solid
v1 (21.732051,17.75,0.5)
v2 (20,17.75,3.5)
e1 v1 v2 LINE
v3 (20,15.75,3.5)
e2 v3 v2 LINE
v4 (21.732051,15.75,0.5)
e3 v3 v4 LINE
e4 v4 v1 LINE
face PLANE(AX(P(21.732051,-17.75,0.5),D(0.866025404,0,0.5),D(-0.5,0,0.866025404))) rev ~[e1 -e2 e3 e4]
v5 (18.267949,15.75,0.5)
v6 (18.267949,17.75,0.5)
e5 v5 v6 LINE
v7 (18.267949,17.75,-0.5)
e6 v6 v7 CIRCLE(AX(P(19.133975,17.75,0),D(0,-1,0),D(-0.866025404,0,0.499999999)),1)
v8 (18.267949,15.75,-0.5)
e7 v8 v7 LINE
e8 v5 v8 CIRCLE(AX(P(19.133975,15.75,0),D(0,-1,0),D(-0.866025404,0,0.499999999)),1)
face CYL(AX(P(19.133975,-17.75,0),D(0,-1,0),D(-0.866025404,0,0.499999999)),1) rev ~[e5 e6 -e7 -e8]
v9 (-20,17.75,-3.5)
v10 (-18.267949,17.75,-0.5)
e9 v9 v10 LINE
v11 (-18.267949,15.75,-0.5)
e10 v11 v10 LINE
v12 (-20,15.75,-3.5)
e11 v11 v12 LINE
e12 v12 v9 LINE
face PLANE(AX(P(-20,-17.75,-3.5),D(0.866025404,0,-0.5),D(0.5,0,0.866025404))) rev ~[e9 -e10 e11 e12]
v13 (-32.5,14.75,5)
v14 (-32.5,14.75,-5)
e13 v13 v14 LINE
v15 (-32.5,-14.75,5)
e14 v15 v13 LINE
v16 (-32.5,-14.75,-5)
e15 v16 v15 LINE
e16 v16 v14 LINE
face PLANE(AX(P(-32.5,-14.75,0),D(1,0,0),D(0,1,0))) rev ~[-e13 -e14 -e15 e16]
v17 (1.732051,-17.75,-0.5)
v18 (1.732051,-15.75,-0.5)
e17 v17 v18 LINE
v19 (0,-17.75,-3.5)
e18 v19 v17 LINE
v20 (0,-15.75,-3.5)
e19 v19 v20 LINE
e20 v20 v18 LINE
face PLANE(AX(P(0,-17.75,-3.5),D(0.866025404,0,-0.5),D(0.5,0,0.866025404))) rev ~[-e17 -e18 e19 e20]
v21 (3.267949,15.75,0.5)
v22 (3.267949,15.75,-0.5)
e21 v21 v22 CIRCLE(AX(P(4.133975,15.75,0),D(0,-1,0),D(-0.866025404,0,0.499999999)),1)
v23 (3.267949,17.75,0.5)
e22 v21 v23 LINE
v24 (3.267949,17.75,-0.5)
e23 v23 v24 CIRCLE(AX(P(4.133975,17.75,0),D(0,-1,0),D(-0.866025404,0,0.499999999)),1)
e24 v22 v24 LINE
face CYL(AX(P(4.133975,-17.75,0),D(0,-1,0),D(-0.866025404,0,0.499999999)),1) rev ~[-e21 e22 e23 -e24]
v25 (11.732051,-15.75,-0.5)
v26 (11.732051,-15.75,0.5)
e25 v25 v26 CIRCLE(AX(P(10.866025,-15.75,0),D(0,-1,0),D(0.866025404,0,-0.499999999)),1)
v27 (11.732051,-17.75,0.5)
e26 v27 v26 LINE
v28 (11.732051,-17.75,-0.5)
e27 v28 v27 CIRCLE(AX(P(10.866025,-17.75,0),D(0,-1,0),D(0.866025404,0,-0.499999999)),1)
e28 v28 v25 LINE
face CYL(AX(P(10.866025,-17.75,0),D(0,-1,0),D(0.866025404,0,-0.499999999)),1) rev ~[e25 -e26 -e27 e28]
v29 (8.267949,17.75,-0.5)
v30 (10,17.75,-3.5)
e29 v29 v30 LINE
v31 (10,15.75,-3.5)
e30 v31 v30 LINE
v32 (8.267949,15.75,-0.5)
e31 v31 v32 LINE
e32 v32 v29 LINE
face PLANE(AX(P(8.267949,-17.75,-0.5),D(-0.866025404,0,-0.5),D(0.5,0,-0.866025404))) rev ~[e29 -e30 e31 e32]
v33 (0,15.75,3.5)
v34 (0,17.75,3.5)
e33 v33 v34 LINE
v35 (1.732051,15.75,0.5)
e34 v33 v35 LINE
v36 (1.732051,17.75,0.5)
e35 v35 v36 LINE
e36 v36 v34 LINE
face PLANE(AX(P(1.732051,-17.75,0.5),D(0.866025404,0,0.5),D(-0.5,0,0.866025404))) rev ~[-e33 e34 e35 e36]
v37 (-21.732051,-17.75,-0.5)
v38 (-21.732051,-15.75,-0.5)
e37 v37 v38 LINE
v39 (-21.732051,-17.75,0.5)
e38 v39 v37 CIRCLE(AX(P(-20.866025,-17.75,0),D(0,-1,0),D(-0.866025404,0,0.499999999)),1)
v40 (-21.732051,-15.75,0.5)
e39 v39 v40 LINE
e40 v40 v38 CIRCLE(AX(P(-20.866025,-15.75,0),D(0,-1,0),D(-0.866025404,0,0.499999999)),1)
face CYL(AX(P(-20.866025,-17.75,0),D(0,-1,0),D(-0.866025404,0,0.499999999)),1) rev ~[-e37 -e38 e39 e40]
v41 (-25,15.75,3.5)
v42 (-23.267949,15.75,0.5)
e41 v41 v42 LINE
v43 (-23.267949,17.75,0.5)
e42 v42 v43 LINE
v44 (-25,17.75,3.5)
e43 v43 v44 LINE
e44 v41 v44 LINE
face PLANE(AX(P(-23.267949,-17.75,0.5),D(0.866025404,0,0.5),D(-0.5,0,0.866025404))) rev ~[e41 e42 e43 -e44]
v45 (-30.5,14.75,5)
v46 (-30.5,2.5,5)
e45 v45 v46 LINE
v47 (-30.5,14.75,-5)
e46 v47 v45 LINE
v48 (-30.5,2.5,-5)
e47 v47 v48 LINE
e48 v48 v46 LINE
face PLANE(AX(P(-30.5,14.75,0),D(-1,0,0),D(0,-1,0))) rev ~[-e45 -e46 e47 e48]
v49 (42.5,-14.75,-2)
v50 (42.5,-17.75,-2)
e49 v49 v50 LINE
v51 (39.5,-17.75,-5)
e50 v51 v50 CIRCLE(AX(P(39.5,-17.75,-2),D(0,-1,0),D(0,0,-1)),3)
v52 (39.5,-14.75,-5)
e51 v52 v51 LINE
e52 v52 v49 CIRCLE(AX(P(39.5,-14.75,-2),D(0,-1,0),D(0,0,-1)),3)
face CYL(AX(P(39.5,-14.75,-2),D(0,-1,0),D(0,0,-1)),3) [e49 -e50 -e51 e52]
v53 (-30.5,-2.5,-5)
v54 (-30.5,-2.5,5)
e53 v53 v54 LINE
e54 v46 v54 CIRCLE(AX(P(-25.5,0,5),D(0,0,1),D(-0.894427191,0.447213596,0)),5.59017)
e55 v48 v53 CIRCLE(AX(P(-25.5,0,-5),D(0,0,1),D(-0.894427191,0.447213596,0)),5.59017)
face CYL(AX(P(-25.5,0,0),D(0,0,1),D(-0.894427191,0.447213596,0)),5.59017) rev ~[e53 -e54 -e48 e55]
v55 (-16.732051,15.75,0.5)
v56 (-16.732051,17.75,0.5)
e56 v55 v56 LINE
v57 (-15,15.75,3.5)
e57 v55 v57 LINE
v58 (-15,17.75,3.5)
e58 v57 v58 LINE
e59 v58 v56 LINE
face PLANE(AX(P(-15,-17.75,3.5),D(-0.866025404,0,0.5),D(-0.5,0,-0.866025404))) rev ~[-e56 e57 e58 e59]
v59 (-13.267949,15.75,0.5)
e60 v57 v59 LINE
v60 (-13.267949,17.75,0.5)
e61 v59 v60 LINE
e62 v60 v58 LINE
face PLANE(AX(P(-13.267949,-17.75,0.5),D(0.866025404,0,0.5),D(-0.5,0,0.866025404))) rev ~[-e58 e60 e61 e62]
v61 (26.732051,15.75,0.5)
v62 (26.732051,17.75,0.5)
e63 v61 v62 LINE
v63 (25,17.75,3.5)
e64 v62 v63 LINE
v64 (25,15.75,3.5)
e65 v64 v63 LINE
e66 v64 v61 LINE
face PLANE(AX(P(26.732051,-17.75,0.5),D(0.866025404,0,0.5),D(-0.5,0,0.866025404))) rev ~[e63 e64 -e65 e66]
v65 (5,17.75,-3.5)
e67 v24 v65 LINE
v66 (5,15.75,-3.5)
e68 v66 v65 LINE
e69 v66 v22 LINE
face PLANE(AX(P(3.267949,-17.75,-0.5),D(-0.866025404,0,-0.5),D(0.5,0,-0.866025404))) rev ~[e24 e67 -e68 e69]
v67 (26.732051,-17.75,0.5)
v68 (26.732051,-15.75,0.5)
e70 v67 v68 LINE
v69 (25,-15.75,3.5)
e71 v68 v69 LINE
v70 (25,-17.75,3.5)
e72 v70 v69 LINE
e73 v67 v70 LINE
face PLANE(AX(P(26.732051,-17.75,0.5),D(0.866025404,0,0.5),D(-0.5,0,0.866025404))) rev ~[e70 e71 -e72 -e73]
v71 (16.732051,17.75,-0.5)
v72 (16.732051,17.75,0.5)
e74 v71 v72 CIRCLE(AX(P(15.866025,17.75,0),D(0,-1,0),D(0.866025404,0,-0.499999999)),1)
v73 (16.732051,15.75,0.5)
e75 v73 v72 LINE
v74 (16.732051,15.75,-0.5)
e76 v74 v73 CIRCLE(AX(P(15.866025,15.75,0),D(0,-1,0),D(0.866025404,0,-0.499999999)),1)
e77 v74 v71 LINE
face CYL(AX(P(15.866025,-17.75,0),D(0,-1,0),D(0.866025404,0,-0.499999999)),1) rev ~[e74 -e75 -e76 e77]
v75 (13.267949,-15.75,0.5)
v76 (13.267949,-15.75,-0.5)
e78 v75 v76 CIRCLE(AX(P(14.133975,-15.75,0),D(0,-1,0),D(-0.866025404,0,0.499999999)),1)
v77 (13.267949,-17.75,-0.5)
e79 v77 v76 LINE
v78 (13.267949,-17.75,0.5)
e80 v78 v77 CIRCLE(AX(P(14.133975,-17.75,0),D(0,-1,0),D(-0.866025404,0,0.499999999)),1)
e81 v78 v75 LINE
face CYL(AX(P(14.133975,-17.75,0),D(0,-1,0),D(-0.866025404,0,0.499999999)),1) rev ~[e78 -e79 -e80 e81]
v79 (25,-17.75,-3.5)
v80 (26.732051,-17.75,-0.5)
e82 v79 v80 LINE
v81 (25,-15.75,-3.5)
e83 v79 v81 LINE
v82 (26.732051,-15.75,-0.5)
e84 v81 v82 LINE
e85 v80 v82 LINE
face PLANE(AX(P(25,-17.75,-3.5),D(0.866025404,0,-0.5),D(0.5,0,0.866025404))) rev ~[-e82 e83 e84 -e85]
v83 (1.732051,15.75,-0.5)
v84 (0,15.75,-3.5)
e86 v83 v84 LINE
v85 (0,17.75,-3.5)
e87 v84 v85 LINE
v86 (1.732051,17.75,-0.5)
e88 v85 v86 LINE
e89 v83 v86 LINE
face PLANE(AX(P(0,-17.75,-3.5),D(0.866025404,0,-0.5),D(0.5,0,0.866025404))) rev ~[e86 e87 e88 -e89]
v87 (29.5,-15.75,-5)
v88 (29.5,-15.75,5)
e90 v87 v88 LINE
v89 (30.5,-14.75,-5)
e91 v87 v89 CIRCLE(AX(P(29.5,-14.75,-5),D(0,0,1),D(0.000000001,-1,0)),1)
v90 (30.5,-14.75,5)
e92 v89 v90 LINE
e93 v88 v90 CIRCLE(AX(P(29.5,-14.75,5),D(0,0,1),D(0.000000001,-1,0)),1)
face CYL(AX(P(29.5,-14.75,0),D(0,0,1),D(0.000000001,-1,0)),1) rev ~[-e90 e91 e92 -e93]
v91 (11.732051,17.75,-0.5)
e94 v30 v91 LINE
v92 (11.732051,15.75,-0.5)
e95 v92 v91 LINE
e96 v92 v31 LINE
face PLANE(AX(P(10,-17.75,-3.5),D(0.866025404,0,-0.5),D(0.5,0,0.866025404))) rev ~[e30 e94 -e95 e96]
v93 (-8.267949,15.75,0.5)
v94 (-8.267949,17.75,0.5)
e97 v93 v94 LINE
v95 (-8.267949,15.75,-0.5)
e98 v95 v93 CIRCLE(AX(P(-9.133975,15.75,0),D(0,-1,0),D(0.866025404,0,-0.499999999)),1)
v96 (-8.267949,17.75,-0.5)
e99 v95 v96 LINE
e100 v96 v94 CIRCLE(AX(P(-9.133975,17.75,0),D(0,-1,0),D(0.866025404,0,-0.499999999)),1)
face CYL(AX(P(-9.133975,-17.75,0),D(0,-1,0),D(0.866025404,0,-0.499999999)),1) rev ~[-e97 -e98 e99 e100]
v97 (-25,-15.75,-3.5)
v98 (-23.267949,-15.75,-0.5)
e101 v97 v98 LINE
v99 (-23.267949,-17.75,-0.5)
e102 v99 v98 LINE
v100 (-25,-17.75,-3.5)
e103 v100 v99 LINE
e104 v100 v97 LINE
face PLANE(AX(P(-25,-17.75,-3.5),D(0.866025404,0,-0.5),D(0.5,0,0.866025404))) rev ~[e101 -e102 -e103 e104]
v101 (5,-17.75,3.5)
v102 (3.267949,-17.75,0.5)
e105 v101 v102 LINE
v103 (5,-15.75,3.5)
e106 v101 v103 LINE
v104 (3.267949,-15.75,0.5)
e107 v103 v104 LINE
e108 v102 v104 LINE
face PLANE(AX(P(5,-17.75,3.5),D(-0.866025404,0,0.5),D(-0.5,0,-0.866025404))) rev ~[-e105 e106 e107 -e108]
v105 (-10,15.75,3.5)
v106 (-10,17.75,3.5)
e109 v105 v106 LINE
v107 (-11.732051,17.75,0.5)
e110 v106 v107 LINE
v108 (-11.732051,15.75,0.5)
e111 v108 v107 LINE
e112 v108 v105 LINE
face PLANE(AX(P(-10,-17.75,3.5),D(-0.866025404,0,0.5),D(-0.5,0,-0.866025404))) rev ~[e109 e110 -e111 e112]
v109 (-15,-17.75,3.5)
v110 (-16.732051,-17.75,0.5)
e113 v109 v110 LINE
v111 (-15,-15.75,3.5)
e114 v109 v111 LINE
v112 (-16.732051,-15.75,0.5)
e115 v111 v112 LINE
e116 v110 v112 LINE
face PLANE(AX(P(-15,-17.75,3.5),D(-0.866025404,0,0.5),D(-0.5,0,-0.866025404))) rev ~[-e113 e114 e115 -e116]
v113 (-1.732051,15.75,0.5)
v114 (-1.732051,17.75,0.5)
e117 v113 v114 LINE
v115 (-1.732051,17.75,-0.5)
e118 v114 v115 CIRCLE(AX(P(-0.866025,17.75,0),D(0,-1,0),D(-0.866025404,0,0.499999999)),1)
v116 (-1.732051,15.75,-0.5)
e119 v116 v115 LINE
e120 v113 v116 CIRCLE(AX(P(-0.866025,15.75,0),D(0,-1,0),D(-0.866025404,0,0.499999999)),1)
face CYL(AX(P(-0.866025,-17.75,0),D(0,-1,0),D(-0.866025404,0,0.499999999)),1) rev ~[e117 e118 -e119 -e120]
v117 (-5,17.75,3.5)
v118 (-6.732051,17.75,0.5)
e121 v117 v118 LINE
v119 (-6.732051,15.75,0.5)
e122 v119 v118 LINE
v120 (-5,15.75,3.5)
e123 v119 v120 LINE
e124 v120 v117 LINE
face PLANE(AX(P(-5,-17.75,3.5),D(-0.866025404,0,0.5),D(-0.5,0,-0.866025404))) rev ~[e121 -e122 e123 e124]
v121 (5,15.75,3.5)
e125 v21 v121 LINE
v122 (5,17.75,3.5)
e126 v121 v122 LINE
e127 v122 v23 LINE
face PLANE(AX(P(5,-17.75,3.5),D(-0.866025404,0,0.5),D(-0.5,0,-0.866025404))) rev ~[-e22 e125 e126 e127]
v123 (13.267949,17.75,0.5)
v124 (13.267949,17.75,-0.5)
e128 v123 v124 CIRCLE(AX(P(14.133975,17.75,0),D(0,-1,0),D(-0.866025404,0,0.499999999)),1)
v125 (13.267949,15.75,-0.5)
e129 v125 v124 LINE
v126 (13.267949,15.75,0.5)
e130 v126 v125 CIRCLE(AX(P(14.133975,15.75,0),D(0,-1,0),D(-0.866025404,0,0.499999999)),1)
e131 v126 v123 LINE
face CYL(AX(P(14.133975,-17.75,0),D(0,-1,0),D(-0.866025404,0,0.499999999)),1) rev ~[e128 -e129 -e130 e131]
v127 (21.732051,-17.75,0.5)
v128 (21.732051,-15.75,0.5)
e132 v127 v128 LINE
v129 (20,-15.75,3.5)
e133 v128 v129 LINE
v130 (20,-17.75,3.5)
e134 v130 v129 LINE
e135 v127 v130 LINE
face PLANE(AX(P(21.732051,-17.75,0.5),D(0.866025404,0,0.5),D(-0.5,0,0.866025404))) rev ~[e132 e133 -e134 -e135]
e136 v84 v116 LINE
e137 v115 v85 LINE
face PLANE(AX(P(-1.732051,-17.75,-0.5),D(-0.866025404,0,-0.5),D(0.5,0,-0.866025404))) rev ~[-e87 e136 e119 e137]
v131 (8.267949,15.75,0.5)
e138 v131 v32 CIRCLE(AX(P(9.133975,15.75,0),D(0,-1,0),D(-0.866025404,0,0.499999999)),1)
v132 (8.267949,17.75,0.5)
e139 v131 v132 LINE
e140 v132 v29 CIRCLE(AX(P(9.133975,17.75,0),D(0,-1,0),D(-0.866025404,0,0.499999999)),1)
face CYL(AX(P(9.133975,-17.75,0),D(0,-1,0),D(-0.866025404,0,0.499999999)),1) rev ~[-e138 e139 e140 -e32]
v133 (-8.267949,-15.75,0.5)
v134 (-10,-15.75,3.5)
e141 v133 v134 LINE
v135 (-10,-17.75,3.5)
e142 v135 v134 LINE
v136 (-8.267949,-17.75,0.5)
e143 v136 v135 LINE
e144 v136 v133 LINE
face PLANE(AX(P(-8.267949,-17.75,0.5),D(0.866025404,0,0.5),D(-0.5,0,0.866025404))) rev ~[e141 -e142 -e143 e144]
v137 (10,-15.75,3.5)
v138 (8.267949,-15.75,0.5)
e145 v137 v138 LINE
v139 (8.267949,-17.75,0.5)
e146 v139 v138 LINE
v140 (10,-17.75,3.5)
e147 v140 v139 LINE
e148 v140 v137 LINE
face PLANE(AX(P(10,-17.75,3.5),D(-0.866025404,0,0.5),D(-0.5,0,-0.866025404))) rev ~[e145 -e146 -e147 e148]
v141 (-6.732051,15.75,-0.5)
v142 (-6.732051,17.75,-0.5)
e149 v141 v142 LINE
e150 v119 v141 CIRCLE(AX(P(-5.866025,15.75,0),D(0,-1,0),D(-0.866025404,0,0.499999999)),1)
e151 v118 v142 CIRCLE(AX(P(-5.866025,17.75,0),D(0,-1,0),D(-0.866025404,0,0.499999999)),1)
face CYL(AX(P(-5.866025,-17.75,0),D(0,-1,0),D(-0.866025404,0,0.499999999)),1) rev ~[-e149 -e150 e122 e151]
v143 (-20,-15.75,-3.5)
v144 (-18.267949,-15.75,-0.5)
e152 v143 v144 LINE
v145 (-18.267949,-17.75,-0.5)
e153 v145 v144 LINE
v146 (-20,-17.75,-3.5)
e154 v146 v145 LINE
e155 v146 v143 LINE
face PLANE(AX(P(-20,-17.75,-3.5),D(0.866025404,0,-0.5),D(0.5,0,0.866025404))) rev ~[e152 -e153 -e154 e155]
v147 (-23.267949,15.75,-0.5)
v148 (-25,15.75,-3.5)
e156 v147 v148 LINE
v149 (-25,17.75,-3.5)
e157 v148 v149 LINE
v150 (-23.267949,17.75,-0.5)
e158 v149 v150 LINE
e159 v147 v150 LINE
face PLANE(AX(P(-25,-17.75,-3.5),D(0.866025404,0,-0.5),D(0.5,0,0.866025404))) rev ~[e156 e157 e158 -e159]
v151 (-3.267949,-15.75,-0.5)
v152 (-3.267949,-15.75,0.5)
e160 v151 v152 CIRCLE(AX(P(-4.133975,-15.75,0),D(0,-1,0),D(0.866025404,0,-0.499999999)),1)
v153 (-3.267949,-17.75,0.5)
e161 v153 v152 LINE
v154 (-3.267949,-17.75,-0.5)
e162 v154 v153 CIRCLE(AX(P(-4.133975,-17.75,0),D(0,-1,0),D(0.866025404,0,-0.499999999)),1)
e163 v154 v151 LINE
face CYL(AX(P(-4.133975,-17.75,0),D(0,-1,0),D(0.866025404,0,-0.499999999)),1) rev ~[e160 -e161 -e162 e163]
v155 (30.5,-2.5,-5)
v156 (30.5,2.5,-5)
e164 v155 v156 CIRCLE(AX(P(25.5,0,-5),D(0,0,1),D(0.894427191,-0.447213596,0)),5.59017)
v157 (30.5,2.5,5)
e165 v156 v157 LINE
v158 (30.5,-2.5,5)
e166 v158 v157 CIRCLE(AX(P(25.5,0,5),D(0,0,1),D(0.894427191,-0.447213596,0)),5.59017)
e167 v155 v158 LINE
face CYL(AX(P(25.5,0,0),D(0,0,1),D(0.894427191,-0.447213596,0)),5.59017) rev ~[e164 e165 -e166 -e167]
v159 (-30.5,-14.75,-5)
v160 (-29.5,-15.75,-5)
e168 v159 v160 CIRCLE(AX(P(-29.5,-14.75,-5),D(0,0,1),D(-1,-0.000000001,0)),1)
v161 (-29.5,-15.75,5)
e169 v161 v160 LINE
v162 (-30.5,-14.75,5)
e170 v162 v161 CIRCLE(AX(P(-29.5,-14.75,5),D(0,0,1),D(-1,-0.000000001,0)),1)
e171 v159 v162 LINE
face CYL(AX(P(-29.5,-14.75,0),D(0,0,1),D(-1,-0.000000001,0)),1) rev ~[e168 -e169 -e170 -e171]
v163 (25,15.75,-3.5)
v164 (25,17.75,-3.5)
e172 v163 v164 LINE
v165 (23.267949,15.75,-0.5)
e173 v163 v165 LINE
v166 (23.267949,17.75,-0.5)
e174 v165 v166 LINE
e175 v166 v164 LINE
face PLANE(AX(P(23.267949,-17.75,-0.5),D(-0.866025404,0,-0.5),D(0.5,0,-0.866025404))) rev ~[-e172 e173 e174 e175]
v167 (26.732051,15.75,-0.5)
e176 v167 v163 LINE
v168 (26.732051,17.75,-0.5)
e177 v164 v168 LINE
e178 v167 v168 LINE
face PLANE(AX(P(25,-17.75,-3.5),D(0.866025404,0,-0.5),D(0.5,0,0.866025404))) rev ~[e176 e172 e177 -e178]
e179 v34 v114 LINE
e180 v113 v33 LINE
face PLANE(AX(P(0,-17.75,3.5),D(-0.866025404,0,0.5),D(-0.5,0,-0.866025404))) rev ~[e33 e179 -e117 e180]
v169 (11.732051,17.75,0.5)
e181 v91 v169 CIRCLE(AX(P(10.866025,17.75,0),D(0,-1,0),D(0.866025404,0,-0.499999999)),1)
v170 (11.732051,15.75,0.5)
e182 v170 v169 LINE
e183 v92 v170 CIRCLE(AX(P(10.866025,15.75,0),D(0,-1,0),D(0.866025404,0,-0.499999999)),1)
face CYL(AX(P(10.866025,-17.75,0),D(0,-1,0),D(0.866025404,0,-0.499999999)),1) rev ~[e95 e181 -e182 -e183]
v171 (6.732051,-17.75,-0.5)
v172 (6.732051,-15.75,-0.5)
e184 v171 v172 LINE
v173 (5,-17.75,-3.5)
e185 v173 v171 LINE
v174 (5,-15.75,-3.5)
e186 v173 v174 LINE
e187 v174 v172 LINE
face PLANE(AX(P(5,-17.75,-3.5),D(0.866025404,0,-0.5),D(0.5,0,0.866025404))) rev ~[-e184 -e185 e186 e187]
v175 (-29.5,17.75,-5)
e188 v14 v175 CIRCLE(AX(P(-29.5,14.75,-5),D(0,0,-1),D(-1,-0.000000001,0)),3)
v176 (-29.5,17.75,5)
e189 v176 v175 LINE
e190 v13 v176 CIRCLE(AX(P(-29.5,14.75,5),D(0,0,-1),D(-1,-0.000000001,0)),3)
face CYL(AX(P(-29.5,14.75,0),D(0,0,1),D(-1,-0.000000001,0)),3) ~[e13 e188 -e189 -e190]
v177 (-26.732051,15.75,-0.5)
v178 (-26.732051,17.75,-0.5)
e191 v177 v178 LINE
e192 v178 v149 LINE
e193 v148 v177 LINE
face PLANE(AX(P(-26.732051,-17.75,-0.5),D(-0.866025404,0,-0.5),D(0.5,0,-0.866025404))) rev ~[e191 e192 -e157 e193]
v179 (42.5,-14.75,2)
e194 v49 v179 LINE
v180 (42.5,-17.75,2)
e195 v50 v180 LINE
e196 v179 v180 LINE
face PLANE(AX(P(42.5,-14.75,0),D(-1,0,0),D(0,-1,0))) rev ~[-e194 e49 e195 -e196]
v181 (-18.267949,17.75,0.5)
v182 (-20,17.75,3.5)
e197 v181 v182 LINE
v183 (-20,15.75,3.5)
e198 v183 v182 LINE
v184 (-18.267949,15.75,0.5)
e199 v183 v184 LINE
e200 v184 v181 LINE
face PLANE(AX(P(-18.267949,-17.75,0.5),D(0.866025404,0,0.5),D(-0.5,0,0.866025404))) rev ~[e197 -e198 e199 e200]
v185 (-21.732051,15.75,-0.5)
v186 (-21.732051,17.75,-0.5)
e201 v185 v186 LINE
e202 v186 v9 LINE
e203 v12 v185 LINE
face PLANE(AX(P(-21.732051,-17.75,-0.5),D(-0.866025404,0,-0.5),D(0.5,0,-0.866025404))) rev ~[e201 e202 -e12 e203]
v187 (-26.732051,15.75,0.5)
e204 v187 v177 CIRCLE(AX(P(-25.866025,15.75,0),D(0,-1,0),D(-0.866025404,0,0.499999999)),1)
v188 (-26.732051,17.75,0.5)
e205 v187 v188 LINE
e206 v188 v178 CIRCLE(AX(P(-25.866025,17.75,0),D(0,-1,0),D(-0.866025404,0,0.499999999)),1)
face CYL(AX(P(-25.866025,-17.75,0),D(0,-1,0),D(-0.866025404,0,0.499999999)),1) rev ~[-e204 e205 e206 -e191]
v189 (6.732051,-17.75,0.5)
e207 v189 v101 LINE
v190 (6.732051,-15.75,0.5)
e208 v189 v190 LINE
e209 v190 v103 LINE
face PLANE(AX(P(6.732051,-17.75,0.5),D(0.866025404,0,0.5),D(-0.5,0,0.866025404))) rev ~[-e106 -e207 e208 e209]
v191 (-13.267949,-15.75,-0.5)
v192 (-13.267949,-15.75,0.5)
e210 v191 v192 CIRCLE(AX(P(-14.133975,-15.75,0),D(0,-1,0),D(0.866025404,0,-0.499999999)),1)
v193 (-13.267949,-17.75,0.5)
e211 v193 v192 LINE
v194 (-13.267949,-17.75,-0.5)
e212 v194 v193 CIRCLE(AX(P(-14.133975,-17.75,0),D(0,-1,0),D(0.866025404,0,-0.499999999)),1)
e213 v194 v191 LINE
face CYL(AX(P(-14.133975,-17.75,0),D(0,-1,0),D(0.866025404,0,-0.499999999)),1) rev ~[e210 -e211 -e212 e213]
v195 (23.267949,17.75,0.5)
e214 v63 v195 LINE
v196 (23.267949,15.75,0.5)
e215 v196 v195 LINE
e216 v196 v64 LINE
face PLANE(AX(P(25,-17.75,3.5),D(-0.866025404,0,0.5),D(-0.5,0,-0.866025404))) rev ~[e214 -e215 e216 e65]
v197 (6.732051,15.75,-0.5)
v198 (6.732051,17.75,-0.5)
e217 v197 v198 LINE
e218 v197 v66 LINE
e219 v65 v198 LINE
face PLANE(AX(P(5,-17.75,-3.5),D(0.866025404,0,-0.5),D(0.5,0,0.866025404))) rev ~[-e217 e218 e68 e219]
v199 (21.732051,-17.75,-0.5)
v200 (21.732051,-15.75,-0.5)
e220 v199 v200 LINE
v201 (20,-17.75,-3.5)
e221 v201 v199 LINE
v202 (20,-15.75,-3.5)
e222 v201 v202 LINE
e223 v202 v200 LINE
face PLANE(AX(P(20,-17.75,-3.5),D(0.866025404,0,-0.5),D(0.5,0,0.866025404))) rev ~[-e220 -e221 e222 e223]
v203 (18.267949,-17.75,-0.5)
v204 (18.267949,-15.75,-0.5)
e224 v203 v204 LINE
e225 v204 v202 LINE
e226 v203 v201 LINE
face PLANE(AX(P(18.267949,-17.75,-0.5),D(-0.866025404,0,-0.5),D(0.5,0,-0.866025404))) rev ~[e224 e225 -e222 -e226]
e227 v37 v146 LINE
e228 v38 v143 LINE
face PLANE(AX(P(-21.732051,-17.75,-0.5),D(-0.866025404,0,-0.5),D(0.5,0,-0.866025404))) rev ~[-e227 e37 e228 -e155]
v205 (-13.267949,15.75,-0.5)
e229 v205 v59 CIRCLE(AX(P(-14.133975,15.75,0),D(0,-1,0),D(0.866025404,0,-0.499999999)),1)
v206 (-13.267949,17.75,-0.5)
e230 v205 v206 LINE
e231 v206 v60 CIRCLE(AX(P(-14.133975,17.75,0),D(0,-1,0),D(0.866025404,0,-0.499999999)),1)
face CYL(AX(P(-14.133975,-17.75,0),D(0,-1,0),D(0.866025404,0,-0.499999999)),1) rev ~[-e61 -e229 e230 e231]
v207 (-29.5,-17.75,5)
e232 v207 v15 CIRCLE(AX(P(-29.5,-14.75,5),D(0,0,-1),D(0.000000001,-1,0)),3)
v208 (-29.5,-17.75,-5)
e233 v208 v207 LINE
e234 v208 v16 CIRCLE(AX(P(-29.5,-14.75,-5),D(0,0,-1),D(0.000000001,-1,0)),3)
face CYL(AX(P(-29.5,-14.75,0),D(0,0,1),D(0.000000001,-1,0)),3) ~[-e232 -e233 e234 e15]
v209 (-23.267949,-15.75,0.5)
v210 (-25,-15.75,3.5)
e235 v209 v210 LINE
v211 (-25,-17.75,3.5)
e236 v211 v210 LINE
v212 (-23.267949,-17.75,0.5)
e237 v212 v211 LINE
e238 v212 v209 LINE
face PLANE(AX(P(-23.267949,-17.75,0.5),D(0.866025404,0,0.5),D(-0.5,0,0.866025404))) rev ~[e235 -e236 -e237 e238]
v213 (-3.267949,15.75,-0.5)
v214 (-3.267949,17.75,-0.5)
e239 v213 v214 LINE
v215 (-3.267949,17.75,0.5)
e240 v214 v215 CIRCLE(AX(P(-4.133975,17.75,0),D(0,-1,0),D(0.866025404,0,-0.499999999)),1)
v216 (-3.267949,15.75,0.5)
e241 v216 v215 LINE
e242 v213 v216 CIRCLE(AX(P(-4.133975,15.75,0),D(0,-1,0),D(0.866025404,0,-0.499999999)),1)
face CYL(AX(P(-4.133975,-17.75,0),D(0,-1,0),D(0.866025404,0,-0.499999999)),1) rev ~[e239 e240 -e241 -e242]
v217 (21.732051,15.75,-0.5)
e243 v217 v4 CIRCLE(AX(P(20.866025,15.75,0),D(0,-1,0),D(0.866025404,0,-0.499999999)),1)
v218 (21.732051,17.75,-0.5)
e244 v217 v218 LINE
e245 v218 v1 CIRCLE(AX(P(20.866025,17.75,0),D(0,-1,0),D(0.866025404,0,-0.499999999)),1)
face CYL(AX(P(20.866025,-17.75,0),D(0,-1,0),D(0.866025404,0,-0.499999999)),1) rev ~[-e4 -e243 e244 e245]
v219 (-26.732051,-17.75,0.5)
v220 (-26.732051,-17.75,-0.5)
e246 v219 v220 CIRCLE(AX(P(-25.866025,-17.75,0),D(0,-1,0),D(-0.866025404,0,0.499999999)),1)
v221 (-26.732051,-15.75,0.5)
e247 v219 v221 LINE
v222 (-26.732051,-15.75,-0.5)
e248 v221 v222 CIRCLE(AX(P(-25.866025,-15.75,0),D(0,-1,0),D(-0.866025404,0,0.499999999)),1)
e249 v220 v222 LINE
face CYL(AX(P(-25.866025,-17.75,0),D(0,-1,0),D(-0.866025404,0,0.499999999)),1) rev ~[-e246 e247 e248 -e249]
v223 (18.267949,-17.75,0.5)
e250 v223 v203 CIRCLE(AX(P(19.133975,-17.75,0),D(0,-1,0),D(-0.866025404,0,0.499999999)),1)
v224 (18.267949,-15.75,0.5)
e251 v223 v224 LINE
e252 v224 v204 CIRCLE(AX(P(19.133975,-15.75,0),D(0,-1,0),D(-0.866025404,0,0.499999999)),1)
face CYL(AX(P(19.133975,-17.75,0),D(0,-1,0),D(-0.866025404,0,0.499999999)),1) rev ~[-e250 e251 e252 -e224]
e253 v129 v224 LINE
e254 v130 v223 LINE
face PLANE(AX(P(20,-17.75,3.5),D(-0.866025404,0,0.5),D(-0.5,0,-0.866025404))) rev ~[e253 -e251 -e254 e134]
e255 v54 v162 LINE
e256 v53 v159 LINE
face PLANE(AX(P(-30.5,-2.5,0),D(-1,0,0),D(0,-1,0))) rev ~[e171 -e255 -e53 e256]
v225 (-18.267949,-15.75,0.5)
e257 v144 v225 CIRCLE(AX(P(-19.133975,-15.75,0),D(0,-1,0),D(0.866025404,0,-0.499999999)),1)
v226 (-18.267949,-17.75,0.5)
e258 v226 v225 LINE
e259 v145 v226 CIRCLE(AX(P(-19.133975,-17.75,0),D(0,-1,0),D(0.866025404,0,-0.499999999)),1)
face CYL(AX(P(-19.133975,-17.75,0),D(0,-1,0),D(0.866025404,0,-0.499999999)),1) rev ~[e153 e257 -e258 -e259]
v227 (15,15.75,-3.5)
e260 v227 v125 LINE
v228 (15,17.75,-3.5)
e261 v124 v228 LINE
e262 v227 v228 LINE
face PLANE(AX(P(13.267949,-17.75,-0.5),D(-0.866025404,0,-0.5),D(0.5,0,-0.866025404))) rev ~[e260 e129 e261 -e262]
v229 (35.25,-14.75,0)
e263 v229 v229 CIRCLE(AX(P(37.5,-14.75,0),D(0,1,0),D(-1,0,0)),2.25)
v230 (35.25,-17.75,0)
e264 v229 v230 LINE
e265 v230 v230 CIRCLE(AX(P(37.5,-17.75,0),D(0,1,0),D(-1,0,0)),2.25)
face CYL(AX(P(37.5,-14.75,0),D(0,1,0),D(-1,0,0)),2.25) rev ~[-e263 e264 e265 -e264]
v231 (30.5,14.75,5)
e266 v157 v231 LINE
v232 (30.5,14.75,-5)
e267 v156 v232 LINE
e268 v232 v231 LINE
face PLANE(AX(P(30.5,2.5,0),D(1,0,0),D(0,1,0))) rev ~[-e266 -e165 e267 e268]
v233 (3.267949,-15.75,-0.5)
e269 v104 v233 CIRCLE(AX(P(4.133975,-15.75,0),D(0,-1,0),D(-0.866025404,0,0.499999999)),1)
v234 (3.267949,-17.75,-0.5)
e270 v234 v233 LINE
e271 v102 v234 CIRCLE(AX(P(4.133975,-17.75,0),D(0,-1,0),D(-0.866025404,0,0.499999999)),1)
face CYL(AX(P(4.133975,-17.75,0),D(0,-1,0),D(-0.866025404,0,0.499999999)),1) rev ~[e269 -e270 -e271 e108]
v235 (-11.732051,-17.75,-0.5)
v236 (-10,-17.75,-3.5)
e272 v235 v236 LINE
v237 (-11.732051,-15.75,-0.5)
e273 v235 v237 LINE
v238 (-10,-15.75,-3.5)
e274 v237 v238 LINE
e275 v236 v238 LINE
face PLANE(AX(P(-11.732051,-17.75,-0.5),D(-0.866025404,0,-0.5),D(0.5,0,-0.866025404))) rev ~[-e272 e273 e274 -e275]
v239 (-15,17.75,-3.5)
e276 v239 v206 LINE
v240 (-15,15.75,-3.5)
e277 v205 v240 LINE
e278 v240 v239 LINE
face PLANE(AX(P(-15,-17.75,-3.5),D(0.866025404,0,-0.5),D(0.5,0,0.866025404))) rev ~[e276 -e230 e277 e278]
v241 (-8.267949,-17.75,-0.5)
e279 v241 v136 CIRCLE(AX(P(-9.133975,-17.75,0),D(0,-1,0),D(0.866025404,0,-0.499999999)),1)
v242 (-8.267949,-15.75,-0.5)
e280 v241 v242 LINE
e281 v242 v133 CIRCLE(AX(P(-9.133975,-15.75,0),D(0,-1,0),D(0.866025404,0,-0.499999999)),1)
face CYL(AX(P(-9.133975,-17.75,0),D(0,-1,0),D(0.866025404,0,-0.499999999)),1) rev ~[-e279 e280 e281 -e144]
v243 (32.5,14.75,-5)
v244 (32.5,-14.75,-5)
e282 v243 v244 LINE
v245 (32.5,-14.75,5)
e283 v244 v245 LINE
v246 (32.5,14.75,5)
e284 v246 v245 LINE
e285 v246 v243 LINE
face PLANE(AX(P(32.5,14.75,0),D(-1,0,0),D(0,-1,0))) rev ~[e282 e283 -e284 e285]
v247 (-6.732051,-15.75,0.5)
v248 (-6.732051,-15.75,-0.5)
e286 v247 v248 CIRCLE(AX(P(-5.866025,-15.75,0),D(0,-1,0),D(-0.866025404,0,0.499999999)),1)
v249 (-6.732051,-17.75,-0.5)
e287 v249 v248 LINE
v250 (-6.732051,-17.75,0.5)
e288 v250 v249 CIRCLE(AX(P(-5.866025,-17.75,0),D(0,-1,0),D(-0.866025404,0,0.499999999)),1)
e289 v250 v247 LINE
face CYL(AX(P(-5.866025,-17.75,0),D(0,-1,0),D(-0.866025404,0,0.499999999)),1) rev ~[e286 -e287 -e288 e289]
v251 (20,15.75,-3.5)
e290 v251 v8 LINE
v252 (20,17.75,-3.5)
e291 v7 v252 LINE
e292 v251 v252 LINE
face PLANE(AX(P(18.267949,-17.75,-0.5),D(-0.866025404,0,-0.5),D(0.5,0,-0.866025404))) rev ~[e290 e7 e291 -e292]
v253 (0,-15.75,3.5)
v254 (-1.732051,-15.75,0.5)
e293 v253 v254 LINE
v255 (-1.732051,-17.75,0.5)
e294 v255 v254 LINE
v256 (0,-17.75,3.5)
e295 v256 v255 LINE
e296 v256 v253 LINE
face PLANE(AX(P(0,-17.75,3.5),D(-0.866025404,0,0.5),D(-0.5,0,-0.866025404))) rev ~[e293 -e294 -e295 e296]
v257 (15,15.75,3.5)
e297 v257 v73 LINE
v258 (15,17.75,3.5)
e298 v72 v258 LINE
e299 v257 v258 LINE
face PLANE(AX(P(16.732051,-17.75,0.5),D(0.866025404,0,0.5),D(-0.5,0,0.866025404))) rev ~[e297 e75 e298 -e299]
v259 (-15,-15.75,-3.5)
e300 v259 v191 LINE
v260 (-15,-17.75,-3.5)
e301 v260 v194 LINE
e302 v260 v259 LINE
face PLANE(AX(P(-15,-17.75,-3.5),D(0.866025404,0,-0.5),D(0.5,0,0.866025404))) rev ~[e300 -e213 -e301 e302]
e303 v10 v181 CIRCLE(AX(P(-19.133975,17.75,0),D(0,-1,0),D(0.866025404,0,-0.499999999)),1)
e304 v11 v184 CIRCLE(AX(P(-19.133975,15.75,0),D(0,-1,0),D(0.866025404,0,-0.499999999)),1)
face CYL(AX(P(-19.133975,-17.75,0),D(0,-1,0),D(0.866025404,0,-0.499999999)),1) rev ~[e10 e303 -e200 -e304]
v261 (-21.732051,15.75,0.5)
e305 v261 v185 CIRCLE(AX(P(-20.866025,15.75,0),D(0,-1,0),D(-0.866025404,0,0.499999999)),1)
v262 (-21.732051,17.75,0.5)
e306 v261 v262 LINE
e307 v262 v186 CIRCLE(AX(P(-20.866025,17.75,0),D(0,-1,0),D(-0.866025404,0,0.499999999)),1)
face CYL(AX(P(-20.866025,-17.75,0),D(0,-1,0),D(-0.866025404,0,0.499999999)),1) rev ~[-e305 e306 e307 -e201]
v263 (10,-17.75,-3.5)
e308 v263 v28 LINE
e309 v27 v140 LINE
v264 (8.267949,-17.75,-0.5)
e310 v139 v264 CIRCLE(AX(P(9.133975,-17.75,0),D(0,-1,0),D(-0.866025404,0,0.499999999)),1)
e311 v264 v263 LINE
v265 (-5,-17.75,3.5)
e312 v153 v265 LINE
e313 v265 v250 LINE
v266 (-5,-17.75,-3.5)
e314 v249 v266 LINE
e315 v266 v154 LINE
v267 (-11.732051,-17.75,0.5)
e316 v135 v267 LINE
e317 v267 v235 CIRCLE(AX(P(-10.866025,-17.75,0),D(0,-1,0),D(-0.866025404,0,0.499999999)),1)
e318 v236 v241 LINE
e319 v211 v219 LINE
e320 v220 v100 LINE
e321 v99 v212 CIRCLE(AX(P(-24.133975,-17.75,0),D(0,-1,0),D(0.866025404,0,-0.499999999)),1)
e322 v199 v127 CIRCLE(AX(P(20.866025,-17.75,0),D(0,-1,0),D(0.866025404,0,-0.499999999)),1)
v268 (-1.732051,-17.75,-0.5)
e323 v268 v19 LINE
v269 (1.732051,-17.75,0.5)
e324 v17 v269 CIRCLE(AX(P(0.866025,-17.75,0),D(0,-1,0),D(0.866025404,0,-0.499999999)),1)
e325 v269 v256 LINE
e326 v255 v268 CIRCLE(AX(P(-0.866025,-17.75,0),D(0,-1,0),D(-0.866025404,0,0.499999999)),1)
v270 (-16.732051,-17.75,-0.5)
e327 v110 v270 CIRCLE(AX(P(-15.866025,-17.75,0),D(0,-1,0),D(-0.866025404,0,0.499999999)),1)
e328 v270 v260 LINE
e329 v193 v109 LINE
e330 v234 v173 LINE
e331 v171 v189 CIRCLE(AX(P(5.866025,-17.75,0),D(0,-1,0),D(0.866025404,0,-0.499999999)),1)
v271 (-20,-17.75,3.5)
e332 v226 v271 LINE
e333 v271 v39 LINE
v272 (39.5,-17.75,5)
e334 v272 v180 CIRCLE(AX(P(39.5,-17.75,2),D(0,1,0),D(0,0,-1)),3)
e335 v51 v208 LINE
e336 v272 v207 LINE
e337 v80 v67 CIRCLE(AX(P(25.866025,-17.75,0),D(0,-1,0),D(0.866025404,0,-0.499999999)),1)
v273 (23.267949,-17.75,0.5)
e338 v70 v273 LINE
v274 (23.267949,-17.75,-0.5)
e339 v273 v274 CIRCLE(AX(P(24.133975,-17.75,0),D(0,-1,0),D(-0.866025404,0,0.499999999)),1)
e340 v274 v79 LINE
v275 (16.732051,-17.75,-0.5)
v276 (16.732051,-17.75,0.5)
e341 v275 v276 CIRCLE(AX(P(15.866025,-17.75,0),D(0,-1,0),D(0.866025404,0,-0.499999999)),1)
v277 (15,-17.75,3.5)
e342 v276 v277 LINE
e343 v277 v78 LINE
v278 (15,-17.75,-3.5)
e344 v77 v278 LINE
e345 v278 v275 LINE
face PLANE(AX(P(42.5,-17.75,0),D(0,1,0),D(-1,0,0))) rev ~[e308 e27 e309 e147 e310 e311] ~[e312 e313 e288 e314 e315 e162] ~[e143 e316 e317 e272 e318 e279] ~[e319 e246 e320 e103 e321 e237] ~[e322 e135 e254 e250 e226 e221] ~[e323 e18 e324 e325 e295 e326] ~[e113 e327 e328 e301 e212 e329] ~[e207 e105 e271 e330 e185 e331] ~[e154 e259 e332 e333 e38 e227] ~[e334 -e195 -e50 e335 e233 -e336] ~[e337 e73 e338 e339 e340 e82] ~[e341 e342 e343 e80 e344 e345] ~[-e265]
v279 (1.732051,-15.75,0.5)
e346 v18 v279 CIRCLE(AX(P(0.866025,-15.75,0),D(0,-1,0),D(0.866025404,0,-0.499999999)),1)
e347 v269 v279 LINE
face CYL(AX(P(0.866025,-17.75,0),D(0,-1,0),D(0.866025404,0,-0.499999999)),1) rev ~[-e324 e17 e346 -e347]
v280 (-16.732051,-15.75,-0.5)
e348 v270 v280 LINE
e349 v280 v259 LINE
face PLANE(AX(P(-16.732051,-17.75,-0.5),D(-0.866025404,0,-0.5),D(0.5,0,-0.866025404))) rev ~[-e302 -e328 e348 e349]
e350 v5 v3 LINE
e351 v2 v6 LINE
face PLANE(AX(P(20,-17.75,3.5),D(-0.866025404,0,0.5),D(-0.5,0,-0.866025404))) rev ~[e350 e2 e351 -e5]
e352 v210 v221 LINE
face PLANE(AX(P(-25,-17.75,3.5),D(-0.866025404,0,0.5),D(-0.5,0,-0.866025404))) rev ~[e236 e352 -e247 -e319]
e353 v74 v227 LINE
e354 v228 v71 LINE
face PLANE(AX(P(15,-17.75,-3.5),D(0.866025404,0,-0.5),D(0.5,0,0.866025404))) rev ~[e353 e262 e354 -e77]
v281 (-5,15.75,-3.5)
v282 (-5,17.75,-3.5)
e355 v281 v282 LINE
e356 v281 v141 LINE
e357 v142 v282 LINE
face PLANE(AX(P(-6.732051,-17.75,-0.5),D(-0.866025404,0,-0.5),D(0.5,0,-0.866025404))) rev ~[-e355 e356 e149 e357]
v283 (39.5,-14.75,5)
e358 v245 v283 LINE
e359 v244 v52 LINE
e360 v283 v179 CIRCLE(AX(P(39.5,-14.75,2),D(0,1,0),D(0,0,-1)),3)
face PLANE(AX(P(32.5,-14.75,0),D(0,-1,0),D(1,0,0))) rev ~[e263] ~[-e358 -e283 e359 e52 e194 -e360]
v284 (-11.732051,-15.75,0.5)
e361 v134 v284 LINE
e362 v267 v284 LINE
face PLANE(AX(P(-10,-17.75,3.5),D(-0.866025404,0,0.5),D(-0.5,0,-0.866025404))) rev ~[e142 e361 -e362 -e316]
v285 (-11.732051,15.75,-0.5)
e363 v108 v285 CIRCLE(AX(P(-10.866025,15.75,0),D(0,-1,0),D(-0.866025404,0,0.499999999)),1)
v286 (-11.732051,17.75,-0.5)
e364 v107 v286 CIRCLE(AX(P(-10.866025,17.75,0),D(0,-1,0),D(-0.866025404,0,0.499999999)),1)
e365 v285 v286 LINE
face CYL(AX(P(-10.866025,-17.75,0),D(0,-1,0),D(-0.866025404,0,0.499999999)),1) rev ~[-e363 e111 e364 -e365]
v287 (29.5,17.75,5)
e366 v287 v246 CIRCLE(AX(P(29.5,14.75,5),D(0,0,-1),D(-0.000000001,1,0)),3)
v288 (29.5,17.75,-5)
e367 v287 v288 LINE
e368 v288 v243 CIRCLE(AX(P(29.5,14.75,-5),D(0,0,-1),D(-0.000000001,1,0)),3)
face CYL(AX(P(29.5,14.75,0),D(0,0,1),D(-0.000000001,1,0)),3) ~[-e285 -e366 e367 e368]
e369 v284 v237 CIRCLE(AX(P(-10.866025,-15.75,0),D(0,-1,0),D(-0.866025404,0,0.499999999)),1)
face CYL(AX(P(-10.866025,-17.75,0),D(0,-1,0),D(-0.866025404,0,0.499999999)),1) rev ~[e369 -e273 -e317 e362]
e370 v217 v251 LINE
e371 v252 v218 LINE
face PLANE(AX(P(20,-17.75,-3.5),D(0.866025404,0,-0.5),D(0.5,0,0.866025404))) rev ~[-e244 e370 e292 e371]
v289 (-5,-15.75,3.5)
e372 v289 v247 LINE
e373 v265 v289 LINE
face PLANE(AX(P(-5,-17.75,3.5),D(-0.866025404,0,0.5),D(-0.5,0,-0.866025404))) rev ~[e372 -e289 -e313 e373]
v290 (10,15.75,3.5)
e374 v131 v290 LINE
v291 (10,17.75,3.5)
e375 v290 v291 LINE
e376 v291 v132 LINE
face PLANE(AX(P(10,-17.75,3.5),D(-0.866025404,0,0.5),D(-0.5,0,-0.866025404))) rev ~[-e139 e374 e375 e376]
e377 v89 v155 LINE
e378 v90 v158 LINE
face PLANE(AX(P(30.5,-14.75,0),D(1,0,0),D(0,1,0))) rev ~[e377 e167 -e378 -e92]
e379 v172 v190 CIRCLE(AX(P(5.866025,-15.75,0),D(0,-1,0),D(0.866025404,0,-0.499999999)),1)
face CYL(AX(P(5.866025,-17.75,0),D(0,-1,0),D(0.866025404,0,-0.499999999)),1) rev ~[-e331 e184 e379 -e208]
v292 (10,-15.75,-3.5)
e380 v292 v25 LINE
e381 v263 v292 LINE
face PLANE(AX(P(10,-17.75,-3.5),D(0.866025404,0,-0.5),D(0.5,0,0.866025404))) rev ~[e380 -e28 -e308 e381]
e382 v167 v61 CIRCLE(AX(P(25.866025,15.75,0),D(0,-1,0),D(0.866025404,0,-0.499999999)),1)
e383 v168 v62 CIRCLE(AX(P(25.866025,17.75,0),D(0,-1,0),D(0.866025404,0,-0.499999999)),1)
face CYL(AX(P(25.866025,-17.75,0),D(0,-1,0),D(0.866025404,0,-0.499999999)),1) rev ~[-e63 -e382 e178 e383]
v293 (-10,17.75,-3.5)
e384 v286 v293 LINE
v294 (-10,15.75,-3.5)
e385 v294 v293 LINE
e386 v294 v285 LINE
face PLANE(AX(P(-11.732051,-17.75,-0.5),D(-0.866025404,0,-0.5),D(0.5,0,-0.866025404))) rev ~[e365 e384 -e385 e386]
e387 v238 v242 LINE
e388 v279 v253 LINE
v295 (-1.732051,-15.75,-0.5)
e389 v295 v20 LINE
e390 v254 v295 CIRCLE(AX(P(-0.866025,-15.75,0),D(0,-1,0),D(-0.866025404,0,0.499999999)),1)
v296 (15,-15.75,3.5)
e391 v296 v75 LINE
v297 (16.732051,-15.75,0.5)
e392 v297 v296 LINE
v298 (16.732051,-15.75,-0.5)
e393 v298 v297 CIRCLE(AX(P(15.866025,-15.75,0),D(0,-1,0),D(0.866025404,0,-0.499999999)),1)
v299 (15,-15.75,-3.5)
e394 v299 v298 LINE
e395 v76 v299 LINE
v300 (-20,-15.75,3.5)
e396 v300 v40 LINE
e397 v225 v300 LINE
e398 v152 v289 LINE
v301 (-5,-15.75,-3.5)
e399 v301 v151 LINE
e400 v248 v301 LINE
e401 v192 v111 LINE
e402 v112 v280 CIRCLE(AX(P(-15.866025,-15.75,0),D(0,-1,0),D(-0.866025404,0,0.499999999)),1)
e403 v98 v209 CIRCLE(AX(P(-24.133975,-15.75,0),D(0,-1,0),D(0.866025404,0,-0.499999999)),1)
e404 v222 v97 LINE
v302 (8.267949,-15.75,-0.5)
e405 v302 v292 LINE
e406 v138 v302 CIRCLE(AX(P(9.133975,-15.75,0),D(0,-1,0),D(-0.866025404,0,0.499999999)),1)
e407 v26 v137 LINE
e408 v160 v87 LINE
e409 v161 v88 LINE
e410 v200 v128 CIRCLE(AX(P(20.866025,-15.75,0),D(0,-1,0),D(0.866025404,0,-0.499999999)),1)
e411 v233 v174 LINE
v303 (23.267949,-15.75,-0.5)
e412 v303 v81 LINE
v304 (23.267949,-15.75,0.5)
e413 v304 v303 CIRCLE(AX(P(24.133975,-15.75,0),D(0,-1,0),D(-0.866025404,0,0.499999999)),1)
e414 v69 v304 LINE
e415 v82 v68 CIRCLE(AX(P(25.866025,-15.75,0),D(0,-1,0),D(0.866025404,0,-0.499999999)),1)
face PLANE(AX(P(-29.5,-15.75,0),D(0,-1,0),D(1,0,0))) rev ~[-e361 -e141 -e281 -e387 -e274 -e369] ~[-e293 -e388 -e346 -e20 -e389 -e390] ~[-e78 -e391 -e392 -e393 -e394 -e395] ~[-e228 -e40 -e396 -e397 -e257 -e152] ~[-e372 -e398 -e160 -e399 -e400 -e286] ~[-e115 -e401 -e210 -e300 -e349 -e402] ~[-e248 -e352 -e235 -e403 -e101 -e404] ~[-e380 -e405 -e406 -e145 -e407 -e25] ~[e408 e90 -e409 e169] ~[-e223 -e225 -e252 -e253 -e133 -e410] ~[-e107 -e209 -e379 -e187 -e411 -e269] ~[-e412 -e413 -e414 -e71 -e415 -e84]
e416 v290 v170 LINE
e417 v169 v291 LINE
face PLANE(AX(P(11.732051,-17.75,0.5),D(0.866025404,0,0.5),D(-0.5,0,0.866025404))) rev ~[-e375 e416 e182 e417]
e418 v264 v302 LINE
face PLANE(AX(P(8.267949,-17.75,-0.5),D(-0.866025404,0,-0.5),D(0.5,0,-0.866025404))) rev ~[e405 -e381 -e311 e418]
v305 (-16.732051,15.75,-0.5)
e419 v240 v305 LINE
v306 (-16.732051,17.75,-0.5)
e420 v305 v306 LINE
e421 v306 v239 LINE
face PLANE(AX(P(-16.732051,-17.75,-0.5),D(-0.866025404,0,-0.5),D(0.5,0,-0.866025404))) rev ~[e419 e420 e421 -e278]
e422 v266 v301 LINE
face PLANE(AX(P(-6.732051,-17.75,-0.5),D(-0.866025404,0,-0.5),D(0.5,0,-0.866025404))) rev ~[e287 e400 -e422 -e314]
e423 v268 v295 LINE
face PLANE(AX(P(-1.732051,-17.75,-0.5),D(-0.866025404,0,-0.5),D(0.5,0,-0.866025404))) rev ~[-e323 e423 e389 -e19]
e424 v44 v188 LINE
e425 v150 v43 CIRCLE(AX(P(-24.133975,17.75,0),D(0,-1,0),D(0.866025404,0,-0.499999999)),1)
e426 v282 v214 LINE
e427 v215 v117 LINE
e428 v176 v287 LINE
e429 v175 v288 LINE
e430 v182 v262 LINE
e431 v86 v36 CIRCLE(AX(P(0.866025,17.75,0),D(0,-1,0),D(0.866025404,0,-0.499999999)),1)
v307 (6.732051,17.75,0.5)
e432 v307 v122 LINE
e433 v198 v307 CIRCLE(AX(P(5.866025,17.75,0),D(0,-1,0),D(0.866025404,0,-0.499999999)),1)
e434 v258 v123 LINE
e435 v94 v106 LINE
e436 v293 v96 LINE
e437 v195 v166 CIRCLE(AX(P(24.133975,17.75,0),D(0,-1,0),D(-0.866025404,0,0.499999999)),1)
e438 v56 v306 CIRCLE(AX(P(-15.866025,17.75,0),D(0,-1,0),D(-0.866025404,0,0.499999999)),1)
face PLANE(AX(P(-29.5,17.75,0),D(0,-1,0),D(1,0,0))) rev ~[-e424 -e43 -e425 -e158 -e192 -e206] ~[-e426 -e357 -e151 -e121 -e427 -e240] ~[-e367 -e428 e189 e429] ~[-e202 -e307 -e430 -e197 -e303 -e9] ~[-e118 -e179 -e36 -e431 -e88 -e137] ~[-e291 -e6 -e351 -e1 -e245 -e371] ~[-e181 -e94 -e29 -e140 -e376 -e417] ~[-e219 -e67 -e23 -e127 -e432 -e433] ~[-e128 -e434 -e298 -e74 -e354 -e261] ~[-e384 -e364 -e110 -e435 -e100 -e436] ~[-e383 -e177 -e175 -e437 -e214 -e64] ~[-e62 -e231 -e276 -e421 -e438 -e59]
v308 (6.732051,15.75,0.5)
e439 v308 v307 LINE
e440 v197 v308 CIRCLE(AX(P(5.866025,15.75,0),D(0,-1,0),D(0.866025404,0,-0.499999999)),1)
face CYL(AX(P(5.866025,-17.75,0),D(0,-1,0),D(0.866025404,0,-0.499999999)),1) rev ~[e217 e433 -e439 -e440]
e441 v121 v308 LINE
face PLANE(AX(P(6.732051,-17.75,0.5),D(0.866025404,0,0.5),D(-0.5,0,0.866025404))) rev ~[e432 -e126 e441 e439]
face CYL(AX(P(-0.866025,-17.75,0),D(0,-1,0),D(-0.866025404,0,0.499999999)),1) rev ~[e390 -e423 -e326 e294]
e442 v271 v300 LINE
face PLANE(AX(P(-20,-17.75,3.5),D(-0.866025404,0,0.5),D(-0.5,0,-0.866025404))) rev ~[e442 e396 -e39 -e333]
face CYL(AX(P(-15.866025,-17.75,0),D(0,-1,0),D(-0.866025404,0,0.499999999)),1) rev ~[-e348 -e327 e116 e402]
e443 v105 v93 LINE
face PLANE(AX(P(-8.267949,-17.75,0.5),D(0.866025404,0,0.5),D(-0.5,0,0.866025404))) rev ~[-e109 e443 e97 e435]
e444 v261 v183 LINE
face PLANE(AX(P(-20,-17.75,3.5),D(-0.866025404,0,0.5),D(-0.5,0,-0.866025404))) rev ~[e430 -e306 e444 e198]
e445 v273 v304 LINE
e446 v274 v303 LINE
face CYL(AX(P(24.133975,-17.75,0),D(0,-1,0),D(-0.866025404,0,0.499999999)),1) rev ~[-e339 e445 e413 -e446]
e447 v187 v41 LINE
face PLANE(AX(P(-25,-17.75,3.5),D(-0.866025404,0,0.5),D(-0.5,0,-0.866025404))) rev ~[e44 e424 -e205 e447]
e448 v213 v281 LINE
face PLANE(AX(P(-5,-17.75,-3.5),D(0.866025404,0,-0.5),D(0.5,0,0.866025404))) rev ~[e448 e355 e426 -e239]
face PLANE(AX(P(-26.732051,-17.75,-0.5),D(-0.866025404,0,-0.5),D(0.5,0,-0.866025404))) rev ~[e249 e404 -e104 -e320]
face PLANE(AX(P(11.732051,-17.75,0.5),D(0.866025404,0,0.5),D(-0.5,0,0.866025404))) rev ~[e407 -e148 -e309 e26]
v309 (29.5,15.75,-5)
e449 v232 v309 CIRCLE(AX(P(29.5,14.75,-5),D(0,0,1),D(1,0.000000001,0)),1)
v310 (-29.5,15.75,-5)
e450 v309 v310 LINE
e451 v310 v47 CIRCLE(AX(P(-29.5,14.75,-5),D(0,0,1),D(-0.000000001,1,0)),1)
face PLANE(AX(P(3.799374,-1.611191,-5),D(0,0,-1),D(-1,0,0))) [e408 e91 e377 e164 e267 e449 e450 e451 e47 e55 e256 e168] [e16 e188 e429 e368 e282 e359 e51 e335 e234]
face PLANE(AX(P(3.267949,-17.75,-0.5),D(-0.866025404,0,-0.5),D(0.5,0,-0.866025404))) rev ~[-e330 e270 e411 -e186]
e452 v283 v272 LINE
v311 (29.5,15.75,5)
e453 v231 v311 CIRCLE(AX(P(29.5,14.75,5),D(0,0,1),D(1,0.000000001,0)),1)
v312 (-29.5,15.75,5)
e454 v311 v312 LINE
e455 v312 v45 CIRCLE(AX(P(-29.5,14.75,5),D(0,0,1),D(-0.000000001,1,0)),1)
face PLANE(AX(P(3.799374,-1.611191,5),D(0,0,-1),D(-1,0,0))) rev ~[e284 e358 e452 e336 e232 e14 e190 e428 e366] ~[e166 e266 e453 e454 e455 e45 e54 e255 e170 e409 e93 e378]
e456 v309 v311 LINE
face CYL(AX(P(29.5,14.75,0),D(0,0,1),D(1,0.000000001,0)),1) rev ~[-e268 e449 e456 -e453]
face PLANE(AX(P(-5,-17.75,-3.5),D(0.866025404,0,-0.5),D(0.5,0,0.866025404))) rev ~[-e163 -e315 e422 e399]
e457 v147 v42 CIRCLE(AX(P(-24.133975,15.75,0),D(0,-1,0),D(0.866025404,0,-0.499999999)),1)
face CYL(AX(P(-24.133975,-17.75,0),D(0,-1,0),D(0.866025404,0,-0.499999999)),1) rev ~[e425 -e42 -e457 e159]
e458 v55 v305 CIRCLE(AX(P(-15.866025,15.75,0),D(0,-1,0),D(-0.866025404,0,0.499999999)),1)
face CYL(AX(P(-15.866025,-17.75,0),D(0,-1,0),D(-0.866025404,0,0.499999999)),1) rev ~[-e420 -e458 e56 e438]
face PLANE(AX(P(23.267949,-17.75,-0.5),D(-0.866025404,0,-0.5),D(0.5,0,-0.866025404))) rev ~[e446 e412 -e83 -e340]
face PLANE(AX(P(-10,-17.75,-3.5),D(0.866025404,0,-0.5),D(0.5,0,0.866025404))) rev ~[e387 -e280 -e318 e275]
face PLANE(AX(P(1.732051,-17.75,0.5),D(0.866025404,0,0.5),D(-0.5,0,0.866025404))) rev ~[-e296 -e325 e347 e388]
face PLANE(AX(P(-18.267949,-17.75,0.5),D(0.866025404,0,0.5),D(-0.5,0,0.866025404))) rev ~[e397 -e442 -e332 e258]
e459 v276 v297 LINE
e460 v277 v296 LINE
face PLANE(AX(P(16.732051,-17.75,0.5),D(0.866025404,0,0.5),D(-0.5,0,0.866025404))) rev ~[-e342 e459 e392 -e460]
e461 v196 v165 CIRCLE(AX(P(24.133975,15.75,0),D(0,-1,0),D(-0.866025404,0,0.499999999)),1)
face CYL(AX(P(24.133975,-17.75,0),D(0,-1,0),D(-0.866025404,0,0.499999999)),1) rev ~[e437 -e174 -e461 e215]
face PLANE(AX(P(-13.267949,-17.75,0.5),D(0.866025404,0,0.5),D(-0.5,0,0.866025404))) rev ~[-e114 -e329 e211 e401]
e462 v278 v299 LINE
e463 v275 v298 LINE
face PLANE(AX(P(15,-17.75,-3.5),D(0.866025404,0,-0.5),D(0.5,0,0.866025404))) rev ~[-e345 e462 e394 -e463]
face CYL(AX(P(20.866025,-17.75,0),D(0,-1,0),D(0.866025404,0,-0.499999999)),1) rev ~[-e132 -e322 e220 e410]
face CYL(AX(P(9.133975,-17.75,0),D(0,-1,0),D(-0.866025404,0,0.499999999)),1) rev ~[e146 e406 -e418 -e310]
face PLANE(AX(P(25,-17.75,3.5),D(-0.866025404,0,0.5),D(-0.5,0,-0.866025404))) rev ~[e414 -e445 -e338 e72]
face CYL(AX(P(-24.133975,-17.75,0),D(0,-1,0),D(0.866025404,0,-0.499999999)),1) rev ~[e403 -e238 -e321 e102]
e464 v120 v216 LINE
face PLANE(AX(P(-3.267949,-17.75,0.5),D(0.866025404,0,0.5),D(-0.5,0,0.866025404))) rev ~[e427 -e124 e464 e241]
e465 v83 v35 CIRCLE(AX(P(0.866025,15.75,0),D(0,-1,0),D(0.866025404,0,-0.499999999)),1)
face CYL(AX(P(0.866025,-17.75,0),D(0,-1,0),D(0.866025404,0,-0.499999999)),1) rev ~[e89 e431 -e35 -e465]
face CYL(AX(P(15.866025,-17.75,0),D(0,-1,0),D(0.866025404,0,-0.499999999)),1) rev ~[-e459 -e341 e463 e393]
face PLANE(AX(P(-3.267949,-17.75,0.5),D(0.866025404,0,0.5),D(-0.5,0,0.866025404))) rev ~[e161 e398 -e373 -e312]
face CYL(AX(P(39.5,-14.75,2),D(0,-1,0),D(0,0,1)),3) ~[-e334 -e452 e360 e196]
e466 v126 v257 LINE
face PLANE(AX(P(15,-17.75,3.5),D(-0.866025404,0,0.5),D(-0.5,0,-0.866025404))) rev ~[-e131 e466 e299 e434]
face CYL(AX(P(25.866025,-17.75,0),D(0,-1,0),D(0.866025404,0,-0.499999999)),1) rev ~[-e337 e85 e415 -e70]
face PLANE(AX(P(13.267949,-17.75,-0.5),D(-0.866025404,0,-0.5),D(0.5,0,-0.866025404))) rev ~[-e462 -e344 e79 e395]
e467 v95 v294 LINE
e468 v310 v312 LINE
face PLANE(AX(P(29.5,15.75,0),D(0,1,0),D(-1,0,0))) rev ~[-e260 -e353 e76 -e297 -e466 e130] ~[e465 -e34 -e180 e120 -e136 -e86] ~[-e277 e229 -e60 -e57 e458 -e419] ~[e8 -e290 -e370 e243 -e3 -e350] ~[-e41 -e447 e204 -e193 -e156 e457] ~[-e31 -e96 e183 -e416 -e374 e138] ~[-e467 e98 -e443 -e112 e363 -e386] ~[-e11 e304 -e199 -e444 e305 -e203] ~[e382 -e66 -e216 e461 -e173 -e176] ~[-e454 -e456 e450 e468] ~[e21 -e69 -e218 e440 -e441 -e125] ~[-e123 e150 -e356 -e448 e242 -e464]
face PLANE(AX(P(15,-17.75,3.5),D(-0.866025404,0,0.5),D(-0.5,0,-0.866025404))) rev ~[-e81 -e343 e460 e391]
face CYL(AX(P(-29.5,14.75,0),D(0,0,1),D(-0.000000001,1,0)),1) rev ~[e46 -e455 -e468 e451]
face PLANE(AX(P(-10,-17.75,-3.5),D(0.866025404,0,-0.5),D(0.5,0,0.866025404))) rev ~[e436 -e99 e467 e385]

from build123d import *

# Parameters (mm, degrees)
BOSS_EXTRUDE1_DEPTH = 5
SKETCH2_R           = 2.25
CUT_EXTRUDE1_DEPTH  = 54.735463151
FILLET1_R           = 3
CUT_EXTRUDE2_DEPTH  = 56.601258979
LPATTERN1_COUNT     = 6
LPATTERN1_PITCH     = 5
LPATTERN1_COL_COUNT = 6
LPATTERN1_COL_PITCH = 5


with BuildPart() as part:
    # Sketch1 → Boss-Extrude1 (new, symmetric)
    with BuildSketch(Plane.XY):
        with BuildLine():
            Line((-32.5, -14.75), (-32.5, 14.75))
            ThreePointArc((-32.5, 14.75), (-31.621320344, 16.871320344), (-29.5, 17.75))
            Line((-29.5, 17.75), (29.5, 17.75))
            ThreePointArc((29.5, 17.75), (31.621320344, 16.871320344), (32.5, 14.75))
            Line((32.5, 14.75), (32.5, -14.75))
            Line((32.5, -14.75), (42.5, -14.75))
            Line((42.5, -14.75), (42.5, -17.75))
            Line((42.5, -17.75), (29.5, -17.75))
            Line((29.5, -17.75), (-29.5, -17.75))
            ThreePointArc((-29.5, -17.75), (-31.621320344, -16.871320344), (-32.5, -14.75))
        make_face()
        with BuildLine():
            Line((-29.5, -15.75), (29.5, -15.75))
            ThreePointArc((29.5, -15.75), (30.207106781, -15.457106781), (30.5, -14.75))
            Line((30.5, -14.75), (30.5, -2.5))
            ThreePointArc((30.5, -2.5), (31.090169944, 0), (30.5, 2.5))
            Line((30.5, 2.5), (30.5, 14.75))
            ThreePointArc((30.5, 14.75), (30.207106781, 15.457106781), (29.5, 15.75))
            Line((29.5, 15.75), (-29.5, 15.75))
            ThreePointArc((-29.5, 15.75), (-30.207106781, 15.457106781), (-30.5, 14.75))
            Line((-30.5, 14.75), (-30.5, 2.5))
            ThreePointArc((-30.5, 2.5), (-31.090169944, 0), (-30.5, -2.5))
            Line((-30.5, -2.5), (-30.5, -14.75))
            ThreePointArc((-30.5, -14.75), (-30.207106781, -15.457106781), (-29.5, -15.75))
        make_face(mode=Mode.SUBTRACT)
    extrude(amount=BOSS_EXTRUDE1_DEPTH, both=True)

    # Sketch2 → Cut-Extrude1 (cut, through all)
    with BuildSketch(Plane(origin=(0, -14.75, 0), x_dir=(1, 0, 0), z_dir=(0, 1, 0))):
        with Locations(Location((37.5, 0, 0), (0, 0, 180))):
            Circle(SKETCH2_R)
    extrude(amount=-CUT_EXTRUDE1_DEPTH, mode=Mode.SUBTRACT)

    # Fillet1
    fillet1_edges = [part.edges().sort_by_distance(p)[0] for p in [
        (42.5, -16.25, -5),
        (42.5, -16.25, 5),
    ]]
    fillet(fillet1_edges, radius=FILLET1_R)

    # Sketch3 → Cut-Extrude2 (cut, through all)
    with BuildSketch(Plane.XZ.offset(17.75)):
        with BuildLine():
            Line((0, -3.5), (1.732050808, -0.5))
            ThreePointArc((1.732050808, -0.5), (1.866025404, 0), (1.732050808, 0.5))
            Line((1.732050808, 0.5), (0, 3.5))
            Line((0, 3.5), (-1.732050808, 0.5))
            ThreePointArc((-1.732050808, 0.5), (-1.866025404, 0), (-1.732050808, -0.5))
            Line((-1.732050808, -0.5), (0, -3.5))
        make_face()
    cut_extrude2 = extrude(amount=-CUT_EXTRUDE2_DEPTH, mode=Mode.SUBTRACT)

    # LPattern1: Cut-Extrude2 ×6
    with Locations(*[(-i * LPATTERN1_PITCH, 0, 0) for i in range(1, LPATTERN1_COUNT)]):
        add(cut_extrude2, mode=Mode.SUBTRACT)

    # LPattern1 col: Cut-Extrude2 ×6
    with Locations(*[(i * LPATTERN1_COL_PITCH, 0, 0) for i in range(1, LPATTERN1_COL_COUNT)]):
        add(cut_extrude2, mode=Mode.SUBTRACT)


solid = part.part
